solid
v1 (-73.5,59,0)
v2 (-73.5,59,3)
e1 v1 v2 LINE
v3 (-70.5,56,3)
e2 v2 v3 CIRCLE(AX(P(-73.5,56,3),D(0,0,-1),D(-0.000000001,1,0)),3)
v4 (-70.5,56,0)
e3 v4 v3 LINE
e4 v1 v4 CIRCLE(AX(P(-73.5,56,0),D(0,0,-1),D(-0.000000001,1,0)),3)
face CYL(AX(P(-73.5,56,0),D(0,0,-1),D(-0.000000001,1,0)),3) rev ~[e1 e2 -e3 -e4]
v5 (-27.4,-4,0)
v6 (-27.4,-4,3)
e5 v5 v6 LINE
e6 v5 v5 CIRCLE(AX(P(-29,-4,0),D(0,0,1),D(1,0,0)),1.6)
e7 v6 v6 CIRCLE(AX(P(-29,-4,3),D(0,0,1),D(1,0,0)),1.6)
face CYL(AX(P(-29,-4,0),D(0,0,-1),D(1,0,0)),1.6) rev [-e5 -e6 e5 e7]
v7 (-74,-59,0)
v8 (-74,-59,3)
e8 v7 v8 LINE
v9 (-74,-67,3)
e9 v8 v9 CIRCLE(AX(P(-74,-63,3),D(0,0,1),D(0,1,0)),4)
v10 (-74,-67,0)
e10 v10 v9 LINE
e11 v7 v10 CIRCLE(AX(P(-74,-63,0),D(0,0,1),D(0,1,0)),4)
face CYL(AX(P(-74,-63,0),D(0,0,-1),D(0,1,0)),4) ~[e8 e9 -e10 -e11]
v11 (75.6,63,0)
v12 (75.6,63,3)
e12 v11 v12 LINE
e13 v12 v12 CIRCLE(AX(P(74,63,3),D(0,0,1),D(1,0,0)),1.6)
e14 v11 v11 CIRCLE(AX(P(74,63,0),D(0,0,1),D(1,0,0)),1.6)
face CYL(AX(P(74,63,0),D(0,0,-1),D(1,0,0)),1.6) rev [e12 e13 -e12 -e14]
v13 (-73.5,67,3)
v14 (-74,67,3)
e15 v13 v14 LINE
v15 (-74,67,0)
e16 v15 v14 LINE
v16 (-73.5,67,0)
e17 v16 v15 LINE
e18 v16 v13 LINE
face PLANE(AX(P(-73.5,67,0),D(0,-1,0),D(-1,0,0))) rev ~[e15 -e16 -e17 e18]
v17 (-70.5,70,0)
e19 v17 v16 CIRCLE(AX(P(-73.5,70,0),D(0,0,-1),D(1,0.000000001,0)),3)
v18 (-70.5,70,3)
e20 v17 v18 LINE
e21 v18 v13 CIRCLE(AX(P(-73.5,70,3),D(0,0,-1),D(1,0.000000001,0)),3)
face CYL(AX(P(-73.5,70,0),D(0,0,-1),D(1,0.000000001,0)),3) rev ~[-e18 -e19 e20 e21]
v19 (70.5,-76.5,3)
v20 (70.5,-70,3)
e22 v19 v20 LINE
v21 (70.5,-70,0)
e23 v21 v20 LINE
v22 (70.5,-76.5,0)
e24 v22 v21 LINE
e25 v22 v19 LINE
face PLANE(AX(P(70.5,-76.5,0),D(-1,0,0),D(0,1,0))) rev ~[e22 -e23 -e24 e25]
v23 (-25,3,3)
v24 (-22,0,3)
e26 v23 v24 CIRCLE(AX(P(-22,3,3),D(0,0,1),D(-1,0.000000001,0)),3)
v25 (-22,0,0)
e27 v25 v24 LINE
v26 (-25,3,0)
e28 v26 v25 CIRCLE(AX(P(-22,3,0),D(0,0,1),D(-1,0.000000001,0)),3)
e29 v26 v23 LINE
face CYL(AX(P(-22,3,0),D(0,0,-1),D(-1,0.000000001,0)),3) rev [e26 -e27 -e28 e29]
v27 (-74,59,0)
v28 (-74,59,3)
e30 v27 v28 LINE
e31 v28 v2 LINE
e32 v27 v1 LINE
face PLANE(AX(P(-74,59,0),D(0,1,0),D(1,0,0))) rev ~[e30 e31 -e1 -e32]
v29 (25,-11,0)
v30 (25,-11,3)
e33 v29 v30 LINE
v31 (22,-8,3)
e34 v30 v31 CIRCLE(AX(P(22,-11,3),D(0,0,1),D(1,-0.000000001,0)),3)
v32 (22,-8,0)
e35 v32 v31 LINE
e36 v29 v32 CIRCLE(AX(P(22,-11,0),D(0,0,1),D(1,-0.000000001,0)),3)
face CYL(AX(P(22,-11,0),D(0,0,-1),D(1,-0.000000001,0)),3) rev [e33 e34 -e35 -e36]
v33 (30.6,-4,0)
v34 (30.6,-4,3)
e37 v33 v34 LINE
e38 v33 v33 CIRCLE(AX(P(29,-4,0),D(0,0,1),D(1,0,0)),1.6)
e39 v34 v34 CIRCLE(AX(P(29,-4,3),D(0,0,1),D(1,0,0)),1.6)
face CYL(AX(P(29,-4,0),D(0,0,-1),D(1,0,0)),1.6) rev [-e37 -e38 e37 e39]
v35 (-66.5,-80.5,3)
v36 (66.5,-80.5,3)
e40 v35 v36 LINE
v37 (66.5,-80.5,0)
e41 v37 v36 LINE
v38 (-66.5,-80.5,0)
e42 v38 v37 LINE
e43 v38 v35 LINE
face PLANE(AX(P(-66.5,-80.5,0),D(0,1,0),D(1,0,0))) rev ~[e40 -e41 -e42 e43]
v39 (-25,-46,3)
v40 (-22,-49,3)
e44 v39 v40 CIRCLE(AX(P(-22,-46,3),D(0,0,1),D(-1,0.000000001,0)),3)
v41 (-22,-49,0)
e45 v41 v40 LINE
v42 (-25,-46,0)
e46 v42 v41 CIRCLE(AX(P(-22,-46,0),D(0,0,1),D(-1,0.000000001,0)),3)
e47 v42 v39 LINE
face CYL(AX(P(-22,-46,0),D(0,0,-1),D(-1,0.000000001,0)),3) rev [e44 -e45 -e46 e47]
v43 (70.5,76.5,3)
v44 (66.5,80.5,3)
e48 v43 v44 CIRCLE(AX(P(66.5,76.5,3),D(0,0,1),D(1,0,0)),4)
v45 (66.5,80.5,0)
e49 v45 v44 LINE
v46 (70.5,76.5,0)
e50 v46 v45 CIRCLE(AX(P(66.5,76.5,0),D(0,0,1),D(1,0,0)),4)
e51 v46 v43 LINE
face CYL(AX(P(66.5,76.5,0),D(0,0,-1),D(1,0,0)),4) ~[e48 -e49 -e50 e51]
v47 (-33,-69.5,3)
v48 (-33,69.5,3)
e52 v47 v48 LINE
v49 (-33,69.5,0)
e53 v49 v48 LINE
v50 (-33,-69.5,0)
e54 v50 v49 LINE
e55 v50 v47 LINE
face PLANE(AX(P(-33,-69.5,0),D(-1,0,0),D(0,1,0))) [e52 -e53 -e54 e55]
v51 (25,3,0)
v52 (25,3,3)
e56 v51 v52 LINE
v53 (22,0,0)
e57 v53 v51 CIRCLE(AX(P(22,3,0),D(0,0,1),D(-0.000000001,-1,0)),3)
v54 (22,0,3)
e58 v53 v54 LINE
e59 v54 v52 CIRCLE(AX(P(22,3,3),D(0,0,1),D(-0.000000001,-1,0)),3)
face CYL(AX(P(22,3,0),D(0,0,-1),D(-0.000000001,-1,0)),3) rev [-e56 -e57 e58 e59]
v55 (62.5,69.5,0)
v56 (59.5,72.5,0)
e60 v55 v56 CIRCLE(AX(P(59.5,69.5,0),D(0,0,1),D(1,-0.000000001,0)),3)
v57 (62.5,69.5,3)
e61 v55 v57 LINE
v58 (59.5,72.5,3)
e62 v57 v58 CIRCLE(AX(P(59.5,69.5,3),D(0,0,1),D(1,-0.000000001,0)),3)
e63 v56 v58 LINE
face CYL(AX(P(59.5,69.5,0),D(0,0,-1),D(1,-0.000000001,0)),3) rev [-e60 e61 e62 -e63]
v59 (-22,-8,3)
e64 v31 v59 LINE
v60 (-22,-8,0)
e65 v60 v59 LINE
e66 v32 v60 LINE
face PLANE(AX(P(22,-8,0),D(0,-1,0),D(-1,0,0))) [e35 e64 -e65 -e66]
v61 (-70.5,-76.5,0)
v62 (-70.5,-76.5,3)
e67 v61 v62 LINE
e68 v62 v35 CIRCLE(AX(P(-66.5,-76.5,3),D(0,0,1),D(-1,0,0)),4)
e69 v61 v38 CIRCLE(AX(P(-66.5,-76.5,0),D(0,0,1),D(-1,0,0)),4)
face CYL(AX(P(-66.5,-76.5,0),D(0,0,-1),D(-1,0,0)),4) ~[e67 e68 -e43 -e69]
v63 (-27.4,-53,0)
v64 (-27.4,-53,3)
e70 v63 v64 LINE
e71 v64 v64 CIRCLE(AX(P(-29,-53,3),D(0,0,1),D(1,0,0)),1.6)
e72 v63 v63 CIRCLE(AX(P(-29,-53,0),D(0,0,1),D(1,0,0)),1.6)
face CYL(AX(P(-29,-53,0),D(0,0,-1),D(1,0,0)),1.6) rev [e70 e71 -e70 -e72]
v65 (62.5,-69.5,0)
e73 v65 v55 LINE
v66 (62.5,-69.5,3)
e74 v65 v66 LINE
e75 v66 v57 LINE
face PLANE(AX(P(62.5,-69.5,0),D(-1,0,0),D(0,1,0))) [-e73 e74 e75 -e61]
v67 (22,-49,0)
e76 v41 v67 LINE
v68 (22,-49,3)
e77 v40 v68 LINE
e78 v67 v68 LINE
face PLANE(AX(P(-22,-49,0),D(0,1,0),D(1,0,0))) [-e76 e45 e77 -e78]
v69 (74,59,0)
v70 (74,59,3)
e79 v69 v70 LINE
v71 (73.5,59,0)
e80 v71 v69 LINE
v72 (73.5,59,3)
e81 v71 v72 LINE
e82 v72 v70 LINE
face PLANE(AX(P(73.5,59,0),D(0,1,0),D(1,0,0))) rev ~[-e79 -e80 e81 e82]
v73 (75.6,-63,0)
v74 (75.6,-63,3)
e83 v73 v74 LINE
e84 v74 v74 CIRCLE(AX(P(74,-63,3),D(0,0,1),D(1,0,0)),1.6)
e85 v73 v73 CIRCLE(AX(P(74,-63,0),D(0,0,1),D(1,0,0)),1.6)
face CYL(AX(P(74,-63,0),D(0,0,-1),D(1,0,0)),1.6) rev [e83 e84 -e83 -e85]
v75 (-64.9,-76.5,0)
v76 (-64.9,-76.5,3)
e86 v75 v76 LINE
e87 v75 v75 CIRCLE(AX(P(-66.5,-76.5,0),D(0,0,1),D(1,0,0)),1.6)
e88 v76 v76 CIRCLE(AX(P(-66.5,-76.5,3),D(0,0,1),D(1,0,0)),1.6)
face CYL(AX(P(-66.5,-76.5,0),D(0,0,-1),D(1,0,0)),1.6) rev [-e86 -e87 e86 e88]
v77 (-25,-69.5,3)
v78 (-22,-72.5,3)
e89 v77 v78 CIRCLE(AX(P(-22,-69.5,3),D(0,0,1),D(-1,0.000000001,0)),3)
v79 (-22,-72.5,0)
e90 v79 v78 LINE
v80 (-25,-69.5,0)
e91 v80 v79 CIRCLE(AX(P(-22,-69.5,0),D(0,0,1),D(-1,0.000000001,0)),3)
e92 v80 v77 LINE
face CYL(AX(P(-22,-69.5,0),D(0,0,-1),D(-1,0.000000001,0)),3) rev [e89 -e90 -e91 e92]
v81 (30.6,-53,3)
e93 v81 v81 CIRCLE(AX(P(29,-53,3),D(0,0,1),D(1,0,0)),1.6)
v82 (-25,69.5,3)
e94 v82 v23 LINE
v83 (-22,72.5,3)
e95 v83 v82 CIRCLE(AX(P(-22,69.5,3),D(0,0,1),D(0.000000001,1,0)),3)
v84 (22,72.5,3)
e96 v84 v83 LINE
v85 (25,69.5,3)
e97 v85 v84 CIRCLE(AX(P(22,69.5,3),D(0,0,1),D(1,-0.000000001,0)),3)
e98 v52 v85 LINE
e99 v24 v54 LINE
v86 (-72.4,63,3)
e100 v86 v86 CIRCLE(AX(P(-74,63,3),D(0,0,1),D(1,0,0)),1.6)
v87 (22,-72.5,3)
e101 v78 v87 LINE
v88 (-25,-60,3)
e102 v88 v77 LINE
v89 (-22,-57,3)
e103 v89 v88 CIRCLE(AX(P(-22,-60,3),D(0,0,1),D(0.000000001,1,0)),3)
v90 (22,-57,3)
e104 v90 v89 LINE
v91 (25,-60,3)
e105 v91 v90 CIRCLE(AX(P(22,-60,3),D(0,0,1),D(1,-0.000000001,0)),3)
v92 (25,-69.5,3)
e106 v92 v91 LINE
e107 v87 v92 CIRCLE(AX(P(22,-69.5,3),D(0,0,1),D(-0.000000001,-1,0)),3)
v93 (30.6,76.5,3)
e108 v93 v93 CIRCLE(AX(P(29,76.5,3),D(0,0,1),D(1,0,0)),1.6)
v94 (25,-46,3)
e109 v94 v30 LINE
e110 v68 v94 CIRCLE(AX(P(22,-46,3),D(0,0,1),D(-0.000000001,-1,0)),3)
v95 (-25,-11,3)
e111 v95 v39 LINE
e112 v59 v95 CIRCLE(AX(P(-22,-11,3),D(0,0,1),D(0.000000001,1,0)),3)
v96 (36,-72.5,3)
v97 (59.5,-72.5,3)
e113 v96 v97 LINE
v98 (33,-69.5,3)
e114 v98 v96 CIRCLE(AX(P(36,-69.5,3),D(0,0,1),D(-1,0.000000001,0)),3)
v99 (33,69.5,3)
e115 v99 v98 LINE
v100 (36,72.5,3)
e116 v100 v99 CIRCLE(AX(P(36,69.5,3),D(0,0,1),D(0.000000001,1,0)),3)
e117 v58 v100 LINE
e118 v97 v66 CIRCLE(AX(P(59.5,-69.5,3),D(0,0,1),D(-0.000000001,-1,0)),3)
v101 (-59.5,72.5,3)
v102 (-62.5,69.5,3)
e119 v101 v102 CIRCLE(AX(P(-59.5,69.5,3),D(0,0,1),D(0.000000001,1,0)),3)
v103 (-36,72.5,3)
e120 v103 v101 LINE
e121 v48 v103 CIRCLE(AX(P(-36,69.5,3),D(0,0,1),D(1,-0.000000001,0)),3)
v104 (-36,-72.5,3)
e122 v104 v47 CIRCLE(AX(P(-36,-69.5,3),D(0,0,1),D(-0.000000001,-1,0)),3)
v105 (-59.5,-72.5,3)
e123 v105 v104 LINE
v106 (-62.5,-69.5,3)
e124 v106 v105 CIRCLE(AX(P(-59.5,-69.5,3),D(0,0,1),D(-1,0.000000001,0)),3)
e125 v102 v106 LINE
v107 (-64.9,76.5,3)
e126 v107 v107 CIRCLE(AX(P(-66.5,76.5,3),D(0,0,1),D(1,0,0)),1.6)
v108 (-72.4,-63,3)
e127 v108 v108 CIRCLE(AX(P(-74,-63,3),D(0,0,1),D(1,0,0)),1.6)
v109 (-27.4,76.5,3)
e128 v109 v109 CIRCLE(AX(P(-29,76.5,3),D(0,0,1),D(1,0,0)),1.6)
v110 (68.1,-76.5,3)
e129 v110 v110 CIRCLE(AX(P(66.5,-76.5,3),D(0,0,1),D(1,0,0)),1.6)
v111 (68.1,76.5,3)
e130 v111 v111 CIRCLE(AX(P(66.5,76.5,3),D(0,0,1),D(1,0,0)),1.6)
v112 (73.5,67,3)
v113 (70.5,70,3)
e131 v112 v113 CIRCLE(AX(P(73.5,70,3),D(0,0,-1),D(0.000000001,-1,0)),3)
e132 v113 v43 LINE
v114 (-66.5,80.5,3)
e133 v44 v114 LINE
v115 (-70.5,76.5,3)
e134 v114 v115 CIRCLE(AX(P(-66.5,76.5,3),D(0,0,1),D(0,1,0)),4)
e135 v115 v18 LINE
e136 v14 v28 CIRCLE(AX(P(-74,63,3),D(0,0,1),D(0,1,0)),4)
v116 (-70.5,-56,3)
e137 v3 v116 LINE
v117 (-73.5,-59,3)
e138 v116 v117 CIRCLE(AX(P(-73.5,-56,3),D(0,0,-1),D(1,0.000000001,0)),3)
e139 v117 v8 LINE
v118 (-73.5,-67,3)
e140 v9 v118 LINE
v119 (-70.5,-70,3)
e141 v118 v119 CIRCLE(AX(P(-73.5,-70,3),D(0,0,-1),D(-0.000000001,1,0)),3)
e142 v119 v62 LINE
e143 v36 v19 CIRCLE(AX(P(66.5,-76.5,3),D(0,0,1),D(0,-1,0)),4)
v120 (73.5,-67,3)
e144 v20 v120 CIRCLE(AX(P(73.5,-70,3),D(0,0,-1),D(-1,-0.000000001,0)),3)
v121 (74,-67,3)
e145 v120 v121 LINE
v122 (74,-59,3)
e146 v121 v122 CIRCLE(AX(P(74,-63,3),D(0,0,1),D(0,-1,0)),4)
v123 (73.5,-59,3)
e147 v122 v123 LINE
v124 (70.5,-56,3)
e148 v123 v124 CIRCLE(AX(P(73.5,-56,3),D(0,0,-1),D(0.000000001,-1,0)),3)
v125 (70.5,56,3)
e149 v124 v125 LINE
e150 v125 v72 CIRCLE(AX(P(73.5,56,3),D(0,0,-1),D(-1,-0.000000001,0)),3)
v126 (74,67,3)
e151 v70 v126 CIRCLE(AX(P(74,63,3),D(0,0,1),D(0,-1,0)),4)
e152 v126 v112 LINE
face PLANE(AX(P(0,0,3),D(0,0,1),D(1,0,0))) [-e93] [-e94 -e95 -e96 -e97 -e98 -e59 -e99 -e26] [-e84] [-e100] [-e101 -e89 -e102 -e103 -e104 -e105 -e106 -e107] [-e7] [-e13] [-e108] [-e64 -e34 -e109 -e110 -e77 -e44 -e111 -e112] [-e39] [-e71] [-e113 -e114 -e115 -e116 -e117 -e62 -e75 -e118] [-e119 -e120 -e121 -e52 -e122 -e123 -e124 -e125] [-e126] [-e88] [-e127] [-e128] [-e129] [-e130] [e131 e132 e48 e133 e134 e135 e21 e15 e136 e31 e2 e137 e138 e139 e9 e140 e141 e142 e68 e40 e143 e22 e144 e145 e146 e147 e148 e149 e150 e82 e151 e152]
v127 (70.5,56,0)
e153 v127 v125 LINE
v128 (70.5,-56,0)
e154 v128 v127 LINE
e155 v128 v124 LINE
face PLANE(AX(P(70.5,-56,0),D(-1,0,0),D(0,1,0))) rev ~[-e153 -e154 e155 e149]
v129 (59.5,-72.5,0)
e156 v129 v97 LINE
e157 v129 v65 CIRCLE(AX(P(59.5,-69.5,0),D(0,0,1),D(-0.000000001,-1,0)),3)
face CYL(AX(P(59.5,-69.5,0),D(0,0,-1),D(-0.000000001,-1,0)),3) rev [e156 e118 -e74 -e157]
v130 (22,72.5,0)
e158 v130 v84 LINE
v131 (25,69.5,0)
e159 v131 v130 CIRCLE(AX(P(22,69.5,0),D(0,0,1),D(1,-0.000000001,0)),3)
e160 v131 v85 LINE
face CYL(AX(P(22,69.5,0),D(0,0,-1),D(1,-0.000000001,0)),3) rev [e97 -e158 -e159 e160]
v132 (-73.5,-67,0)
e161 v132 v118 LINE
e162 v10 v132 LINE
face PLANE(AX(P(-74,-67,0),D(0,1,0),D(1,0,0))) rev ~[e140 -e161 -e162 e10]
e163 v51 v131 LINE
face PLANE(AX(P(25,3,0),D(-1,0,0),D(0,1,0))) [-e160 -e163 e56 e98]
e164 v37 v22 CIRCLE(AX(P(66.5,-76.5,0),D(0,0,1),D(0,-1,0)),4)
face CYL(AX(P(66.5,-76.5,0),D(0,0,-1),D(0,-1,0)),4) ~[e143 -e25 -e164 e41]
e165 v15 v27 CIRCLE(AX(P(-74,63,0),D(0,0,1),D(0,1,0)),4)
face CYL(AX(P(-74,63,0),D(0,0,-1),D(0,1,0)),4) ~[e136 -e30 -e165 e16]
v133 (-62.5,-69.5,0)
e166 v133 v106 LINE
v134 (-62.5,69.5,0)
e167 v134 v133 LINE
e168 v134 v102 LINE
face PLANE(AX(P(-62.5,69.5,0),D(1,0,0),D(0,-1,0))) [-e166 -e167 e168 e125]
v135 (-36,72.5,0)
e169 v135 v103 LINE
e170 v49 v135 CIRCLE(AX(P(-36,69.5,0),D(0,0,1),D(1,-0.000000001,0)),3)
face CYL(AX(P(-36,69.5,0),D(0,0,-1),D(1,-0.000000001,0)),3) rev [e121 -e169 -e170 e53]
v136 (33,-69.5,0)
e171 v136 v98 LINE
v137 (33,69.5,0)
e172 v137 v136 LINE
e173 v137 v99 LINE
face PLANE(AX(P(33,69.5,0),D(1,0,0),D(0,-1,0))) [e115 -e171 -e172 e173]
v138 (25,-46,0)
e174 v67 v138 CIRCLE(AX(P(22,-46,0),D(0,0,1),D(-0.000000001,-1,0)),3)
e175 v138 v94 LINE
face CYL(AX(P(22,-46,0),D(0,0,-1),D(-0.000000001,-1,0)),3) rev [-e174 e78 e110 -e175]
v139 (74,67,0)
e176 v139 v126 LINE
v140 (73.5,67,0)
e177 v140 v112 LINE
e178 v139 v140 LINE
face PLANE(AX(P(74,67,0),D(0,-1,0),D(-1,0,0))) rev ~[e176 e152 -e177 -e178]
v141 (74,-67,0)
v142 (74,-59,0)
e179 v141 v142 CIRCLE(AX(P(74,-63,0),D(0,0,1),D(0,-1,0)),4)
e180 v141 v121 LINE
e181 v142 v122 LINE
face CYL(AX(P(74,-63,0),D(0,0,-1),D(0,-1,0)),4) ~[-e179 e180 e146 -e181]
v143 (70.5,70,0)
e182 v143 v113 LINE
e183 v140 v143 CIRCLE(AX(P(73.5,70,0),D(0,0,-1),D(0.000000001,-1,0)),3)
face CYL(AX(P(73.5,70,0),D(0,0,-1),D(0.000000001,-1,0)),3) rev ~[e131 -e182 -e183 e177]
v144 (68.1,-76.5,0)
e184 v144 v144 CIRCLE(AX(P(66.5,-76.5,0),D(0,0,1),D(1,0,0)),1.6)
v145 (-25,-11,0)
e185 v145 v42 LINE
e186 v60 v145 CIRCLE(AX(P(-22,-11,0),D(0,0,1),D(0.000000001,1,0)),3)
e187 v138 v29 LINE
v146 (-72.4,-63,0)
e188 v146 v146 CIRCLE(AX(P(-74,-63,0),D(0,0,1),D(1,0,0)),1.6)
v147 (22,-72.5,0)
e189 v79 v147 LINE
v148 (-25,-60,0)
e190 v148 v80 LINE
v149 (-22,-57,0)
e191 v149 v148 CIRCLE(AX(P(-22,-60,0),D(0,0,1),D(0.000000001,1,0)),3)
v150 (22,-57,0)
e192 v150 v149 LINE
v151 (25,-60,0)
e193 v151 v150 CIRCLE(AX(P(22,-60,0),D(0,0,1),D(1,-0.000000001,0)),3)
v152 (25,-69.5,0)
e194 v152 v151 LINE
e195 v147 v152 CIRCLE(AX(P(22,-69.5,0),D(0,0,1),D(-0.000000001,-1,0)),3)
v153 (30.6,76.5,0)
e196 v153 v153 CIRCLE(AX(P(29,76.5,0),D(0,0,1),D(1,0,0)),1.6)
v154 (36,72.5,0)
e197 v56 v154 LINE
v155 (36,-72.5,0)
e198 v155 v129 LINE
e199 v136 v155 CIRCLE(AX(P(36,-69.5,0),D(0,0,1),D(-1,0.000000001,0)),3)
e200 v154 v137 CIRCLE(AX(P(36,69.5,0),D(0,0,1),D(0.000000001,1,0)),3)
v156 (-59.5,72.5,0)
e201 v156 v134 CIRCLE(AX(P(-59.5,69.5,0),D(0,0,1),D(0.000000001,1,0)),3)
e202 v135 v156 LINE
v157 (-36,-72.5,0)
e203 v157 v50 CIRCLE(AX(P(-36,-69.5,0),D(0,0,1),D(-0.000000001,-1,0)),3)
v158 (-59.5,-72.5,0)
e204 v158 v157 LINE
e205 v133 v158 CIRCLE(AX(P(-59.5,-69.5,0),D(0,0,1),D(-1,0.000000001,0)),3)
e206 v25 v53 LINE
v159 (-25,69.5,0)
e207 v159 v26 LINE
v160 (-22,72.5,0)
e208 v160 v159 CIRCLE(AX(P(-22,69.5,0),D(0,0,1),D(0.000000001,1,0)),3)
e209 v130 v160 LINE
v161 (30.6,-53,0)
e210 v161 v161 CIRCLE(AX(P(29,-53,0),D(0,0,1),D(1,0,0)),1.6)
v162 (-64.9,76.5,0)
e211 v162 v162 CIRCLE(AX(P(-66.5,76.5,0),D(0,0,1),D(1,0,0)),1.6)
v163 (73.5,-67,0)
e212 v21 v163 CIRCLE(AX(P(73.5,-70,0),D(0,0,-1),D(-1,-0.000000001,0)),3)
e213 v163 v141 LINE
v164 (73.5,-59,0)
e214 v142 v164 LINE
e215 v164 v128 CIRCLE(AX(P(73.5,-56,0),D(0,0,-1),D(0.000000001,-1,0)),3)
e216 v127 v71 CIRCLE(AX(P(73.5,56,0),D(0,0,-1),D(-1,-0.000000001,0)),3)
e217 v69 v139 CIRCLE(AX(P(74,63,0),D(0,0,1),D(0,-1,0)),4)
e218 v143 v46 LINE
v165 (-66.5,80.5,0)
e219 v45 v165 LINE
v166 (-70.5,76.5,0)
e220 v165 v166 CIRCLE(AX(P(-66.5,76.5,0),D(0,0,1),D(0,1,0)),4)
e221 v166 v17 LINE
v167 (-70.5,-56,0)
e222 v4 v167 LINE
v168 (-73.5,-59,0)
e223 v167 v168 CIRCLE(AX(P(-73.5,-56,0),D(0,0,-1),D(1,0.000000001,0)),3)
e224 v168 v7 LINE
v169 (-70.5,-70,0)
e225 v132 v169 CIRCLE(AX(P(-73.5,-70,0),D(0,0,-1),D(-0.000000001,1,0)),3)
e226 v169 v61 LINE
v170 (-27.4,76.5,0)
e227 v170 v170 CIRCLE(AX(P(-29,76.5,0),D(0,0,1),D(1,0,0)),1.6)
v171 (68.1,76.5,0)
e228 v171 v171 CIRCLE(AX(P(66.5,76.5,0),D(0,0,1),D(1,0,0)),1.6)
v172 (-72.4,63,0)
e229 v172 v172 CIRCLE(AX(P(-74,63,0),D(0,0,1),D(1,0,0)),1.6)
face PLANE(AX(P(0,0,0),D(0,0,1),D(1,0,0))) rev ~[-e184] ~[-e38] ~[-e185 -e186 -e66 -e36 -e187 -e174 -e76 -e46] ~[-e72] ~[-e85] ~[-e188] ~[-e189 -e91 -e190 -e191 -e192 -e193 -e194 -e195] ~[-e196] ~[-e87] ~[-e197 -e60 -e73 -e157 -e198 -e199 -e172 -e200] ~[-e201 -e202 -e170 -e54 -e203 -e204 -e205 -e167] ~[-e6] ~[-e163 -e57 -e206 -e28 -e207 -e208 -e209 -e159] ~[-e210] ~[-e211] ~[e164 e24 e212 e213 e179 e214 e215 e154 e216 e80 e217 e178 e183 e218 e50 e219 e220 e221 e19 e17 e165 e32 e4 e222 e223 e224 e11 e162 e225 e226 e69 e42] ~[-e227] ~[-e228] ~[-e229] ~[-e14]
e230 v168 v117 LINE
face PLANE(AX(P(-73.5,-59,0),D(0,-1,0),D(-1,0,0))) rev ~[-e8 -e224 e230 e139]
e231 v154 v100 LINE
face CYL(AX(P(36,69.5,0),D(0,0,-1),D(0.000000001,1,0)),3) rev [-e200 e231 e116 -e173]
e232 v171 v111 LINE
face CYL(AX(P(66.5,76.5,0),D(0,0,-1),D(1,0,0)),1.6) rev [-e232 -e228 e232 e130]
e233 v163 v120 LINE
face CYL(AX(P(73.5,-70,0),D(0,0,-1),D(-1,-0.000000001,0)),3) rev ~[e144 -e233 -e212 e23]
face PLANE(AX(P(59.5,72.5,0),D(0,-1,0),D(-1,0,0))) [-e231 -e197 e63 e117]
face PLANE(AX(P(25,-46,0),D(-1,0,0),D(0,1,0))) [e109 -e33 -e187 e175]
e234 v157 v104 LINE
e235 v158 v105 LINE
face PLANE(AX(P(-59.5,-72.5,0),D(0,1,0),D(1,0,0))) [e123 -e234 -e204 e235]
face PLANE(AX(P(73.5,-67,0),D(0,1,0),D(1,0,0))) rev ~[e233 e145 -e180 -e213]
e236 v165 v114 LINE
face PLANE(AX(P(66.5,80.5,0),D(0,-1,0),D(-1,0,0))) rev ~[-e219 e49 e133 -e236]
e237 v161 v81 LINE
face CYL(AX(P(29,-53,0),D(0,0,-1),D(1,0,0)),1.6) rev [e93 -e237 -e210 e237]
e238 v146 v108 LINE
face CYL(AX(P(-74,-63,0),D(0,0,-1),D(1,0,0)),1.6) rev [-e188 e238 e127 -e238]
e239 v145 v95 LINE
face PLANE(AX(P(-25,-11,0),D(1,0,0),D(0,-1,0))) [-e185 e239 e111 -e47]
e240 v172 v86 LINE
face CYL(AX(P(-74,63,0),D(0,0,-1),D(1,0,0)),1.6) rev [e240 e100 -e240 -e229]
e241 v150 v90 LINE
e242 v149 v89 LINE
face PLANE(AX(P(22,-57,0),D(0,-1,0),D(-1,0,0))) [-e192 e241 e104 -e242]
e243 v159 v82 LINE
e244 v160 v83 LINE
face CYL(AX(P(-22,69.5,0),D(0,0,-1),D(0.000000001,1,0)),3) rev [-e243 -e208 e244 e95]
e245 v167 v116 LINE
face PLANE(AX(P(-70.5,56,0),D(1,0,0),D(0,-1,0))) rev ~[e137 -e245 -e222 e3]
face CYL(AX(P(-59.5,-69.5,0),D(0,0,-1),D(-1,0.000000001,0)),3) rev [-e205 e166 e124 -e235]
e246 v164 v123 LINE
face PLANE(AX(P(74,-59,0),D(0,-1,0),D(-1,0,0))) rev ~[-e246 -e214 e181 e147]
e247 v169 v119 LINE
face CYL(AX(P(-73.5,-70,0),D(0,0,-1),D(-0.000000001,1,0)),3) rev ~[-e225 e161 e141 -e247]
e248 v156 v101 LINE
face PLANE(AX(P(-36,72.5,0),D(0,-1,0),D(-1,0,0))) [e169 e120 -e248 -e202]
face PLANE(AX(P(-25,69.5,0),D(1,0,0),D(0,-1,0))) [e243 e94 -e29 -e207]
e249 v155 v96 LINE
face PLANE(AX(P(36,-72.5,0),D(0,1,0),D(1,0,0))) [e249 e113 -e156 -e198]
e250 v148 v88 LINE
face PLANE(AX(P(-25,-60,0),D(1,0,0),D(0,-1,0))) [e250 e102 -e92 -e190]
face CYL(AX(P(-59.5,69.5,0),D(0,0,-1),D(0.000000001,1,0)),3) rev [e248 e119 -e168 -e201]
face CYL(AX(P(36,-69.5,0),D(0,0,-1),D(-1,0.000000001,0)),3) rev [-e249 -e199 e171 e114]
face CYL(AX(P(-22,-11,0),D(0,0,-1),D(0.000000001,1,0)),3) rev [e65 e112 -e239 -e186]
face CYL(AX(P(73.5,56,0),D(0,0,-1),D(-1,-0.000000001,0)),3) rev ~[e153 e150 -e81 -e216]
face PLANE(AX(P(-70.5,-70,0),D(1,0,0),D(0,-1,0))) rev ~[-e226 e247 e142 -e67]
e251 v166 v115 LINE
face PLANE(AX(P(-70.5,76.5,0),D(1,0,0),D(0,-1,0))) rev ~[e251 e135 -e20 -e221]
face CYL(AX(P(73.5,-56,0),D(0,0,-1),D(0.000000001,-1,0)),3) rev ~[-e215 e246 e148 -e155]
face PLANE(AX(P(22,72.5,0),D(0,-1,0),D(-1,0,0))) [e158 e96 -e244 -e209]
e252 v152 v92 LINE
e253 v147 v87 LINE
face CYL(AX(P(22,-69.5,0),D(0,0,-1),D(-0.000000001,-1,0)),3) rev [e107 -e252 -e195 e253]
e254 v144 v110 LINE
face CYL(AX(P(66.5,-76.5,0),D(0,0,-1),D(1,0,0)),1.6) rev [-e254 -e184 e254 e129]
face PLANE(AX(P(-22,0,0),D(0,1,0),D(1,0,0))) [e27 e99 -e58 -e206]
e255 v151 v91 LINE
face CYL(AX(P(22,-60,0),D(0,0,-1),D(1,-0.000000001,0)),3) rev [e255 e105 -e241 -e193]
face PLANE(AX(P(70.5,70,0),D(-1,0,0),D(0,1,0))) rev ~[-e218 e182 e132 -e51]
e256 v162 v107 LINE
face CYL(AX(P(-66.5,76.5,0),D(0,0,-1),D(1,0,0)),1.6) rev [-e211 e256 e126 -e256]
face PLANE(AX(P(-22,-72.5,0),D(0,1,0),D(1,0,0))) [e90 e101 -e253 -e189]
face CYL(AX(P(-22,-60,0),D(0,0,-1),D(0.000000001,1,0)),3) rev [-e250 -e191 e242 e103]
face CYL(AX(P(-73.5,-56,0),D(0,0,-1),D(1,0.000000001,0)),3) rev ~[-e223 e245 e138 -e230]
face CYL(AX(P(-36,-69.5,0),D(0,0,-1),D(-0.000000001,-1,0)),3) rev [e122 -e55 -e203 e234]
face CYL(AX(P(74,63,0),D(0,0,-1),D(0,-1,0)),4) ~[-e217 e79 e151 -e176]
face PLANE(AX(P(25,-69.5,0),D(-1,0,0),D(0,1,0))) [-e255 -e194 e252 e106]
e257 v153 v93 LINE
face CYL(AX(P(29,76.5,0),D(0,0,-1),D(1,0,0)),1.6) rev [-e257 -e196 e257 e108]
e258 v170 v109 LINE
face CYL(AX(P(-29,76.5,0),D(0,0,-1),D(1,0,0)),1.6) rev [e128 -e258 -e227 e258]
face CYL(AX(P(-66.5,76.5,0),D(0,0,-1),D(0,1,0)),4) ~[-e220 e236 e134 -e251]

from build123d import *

# Parameters (mm, degrees)
MODEL_R             = 1.6
BOSS_EXTRUDE1_DEPTH = 3


with BuildPart() as part:
    # Model → Boss-Extrude1 (new body)
    with BuildSketch(Plane.XY):
        with BuildLine():
            Line((-70.5, 76.5), (-70.5, 70))
            ThreePointArc((-70.5, 70), (-71.378679656, 67.878679656), (-73.5, 67))
            Line((-73.5, 67), (-74, 67))
            ThreePointArc((-74, 67), (-78, 63), (-74, 59))
            Line((-74, 59), (-73.5, 59))
            ThreePointArc((-73.5, 59), (-71.378679656, 58.121320344), (-70.5, 56))
            Line((-70.5, 56), (-70.5, -56))
            ThreePointArc((-70.5, -56), (-71.378679656, -58.121320344), (-73.5, -59))
            Line((-73.5, -59), (-74, -59))
            ThreePointArc((-74, -59), (-78, -63), (-74, -67))
            Line((-74, -67), (-73.5, -67))
            ThreePointArc((-73.5, -67), (-71.378679656, -67.878679656), (-70.5, -70))
            Line((-70.5, -70), (-70.5, -76.5))
            ThreePointArc((-70.5, -76.5), (-69.328427125, -79.328427125), (-66.5, -80.5))
            Line((-66.5, -80.5), (66.5, -80.5))
            ThreePointArc((66.5, -80.5), (69.328427125, -79.328427125), (70.5, -76.5))
            Line((70.5, -76.5), (70.5, -70))
            ThreePointArc((70.5, -70), (71.378679656, -67.878679656), (73.5, -67))
            Line((73.5, -67), (74, -67))
            ThreePointArc((74, -67), (78, -63), (74, -59))
            Line((74, -59), (73.5, -59))
            ThreePointArc((73.5, -59), (71.378679656, -58.121320344), (70.5, -56))
            Line((70.5, -56), (70.5, 56))
            ThreePointArc((70.5, 56), (71.378679656, 58.121320344), (73.5, 59))
            Line((73.5, 59), (74, 59))
            ThreePointArc((74, 59), (78, 63), (74, 67))
            Line((74, 67), (73.5, 67))
            ThreePointArc((73.5, 67), (71.378679656, 67.878679656), (70.5, 70))
            Line((70.5, 70), (70.5, 76.5))
            ThreePointArc((70.5, 76.5), (69.328427125, 79.328427125), (66.5, 80.5))
            Line((66.5, 80.5), (-66.5, 80.5))
            ThreePointArc((-66.5, 80.5), (-69.328427125, 79.328427125), (-70.5, 76.5))
        make_face()
        with Locations((66.5, 76.5)):
            Circle(MODEL_R, mode=Mode.SUBTRACT)
        with Locations((66.5, -76.5)):
            Circle(MODEL_R, mode=Mode.SUBTRACT)
        with Locations((-66.5, 76.5)):
            Circle(MODEL_R, mode=Mode.SUBTRACT)
        with Locations((-66.5, -76.5)):
            Circle(MODEL_R, mode=Mode.SUBTRACT)
        with Locations((-74, 63)):
            Circle(MODEL_R, mode=Mode.SUBTRACT)
        with Locations((74, 63)):
            Circle(MODEL_R, mode=Mode.SUBTRACT)
        with Locations((-74, -63)):
            Circle(MODEL_R, mode=Mode.SUBTRACT)
        with Locations((74, -63)):
            Circle(MODEL_R, mode=Mode.SUBTRACT)
        with Locations((29, -53)):
            Circle(MODEL_R, mode=Mode.SUBTRACT)
        with Locations((29, -4)):
            Circle(MODEL_R, mode=Mode.SUBTRACT)
        with Locations((-29, -53)):
            Circle(MODEL_R, mode=Mode.SUBTRACT)
        with Locations((-29, -4)):
            Circle(MODEL_R, mode=Mode.SUBTRACT)
        with Locations((29, 76.5)):
            Circle(MODEL_R, mode=Mode.SUBTRACT)
        with Locations((-29, 76.5)):
            Circle(MODEL_R, mode=Mode.SUBTRACT)
        with BuildLine():
            Line((-62.5, 69.5), (-62.5, -69.5))
            ThreePointArc((-62.5, -69.5), (-61.621320344, -71.621320344), (-59.5, -72.5))
            Line((-59.5, -72.5), (-36, -72.5))
            ThreePointArc((-36, -72.5), (-33.878679656, -71.621320344), (-33, -69.5))
            Line((-33, -69.5), (-33, 69.5))
            ThreePointArc((-33, 69.5), (-33.878679656, 71.621320344), (-36, 72.5))
            Line((-36, 72.5), (-59.5, 72.5))
            ThreePointArc((-59.5, 72.5), (-61.621320344, 71.621320344), (-62.5, 69.5))
        make_face(mode=Mode.SUBTRACT)
        with BuildLine():
            Line((-22, -72.5), (22, -72.5))
            ThreePointArc((22, -72.5), (24.121320344, -71.621320344), (25, -69.5))
            Line((25, -69.5), (25, -60))
            ThreePointArc((25, -60), (24.121320344, -57.878679656), (22, -57))
            Line((22, -57), (-22, -57))
            ThreePointArc((-22, -57), (-24.121320344, -57.878679656), (-25, -60))
            Line((-25, -60), (-25, -69.5))
            ThreePointArc((-25, -69.5), (-24.121320344, -71.621320344), (-22, -72.5))
        make_face(mode=Mode.SUBTRACT)
        with BuildLine():
            Line((36, -72.5), (59.5, -72.5))
            ThreePointArc((59.5, -72.5), (61.621320344, -71.621320344), (62.5, -69.5))
            Line((62.5, -69.5), (62.5, 69.5))
            ThreePointArc((62.5, 69.5), (61.621320344, 71.621320344), (59.5, 72.5))
            Line((59.5, 72.5), (36, 72.5))
            ThreePointArc((36, 72.5), (33.878679656, 71.621320344), (33, 69.5))
            Line((33, 69.5), (33, -69.5))
            ThreePointArc((33, -69.5), (33.878679656, -71.621320344), (36, -72.5))
        make_face(mode=Mode.SUBTRACT)
        with BuildLine():
            Line((22, 72.5), (-22, 72.5))
            ThreePointArc((-22, 72.5), (-24.121320344, 71.621320344), (-25, 69.5))
            Line((-25, 69.5), (-25, 3))
            ThreePointArc((-25, 3), (-24.121320344, 0.878679656), (-22, 0))
            Line((-22, 0), (22, 0))
            ThreePointArc((22, 0), (24.121320344, 0.878679656), (25, 3))
            Line((25, 3), (25, 69.5))
            ThreePointArc((25, 69.5), (24.121320344, 71.621320344), (22, 72.5))
        make_face(mode=Mode.SUBTRACT)
        with BuildLine():
            Line((-25, -11), (-25, -46))
            ThreePointArc((-25, -46), (-24.121320344, -48.121320344), (-22, -49))
            Line((-22, -49), (22, -49))
            ThreePointArc((22, -49), (24.121320344, -48.121320344), (25, -46))
            Line((25, -46), (25, -11))
            ThreePointArc((25, -11), (24.121320344, -8.878679656), (22, -8))
            Line((22, -8), (-22, -8))
            ThreePointArc((-22, -8), (-24.121320344, -8.878679656), (-25, -11))
        make_face(mode=Mode.SUBTRACT)
    extrude(amount=BOSS_EXTRUDE1_DEPTH)


solid = part.part
